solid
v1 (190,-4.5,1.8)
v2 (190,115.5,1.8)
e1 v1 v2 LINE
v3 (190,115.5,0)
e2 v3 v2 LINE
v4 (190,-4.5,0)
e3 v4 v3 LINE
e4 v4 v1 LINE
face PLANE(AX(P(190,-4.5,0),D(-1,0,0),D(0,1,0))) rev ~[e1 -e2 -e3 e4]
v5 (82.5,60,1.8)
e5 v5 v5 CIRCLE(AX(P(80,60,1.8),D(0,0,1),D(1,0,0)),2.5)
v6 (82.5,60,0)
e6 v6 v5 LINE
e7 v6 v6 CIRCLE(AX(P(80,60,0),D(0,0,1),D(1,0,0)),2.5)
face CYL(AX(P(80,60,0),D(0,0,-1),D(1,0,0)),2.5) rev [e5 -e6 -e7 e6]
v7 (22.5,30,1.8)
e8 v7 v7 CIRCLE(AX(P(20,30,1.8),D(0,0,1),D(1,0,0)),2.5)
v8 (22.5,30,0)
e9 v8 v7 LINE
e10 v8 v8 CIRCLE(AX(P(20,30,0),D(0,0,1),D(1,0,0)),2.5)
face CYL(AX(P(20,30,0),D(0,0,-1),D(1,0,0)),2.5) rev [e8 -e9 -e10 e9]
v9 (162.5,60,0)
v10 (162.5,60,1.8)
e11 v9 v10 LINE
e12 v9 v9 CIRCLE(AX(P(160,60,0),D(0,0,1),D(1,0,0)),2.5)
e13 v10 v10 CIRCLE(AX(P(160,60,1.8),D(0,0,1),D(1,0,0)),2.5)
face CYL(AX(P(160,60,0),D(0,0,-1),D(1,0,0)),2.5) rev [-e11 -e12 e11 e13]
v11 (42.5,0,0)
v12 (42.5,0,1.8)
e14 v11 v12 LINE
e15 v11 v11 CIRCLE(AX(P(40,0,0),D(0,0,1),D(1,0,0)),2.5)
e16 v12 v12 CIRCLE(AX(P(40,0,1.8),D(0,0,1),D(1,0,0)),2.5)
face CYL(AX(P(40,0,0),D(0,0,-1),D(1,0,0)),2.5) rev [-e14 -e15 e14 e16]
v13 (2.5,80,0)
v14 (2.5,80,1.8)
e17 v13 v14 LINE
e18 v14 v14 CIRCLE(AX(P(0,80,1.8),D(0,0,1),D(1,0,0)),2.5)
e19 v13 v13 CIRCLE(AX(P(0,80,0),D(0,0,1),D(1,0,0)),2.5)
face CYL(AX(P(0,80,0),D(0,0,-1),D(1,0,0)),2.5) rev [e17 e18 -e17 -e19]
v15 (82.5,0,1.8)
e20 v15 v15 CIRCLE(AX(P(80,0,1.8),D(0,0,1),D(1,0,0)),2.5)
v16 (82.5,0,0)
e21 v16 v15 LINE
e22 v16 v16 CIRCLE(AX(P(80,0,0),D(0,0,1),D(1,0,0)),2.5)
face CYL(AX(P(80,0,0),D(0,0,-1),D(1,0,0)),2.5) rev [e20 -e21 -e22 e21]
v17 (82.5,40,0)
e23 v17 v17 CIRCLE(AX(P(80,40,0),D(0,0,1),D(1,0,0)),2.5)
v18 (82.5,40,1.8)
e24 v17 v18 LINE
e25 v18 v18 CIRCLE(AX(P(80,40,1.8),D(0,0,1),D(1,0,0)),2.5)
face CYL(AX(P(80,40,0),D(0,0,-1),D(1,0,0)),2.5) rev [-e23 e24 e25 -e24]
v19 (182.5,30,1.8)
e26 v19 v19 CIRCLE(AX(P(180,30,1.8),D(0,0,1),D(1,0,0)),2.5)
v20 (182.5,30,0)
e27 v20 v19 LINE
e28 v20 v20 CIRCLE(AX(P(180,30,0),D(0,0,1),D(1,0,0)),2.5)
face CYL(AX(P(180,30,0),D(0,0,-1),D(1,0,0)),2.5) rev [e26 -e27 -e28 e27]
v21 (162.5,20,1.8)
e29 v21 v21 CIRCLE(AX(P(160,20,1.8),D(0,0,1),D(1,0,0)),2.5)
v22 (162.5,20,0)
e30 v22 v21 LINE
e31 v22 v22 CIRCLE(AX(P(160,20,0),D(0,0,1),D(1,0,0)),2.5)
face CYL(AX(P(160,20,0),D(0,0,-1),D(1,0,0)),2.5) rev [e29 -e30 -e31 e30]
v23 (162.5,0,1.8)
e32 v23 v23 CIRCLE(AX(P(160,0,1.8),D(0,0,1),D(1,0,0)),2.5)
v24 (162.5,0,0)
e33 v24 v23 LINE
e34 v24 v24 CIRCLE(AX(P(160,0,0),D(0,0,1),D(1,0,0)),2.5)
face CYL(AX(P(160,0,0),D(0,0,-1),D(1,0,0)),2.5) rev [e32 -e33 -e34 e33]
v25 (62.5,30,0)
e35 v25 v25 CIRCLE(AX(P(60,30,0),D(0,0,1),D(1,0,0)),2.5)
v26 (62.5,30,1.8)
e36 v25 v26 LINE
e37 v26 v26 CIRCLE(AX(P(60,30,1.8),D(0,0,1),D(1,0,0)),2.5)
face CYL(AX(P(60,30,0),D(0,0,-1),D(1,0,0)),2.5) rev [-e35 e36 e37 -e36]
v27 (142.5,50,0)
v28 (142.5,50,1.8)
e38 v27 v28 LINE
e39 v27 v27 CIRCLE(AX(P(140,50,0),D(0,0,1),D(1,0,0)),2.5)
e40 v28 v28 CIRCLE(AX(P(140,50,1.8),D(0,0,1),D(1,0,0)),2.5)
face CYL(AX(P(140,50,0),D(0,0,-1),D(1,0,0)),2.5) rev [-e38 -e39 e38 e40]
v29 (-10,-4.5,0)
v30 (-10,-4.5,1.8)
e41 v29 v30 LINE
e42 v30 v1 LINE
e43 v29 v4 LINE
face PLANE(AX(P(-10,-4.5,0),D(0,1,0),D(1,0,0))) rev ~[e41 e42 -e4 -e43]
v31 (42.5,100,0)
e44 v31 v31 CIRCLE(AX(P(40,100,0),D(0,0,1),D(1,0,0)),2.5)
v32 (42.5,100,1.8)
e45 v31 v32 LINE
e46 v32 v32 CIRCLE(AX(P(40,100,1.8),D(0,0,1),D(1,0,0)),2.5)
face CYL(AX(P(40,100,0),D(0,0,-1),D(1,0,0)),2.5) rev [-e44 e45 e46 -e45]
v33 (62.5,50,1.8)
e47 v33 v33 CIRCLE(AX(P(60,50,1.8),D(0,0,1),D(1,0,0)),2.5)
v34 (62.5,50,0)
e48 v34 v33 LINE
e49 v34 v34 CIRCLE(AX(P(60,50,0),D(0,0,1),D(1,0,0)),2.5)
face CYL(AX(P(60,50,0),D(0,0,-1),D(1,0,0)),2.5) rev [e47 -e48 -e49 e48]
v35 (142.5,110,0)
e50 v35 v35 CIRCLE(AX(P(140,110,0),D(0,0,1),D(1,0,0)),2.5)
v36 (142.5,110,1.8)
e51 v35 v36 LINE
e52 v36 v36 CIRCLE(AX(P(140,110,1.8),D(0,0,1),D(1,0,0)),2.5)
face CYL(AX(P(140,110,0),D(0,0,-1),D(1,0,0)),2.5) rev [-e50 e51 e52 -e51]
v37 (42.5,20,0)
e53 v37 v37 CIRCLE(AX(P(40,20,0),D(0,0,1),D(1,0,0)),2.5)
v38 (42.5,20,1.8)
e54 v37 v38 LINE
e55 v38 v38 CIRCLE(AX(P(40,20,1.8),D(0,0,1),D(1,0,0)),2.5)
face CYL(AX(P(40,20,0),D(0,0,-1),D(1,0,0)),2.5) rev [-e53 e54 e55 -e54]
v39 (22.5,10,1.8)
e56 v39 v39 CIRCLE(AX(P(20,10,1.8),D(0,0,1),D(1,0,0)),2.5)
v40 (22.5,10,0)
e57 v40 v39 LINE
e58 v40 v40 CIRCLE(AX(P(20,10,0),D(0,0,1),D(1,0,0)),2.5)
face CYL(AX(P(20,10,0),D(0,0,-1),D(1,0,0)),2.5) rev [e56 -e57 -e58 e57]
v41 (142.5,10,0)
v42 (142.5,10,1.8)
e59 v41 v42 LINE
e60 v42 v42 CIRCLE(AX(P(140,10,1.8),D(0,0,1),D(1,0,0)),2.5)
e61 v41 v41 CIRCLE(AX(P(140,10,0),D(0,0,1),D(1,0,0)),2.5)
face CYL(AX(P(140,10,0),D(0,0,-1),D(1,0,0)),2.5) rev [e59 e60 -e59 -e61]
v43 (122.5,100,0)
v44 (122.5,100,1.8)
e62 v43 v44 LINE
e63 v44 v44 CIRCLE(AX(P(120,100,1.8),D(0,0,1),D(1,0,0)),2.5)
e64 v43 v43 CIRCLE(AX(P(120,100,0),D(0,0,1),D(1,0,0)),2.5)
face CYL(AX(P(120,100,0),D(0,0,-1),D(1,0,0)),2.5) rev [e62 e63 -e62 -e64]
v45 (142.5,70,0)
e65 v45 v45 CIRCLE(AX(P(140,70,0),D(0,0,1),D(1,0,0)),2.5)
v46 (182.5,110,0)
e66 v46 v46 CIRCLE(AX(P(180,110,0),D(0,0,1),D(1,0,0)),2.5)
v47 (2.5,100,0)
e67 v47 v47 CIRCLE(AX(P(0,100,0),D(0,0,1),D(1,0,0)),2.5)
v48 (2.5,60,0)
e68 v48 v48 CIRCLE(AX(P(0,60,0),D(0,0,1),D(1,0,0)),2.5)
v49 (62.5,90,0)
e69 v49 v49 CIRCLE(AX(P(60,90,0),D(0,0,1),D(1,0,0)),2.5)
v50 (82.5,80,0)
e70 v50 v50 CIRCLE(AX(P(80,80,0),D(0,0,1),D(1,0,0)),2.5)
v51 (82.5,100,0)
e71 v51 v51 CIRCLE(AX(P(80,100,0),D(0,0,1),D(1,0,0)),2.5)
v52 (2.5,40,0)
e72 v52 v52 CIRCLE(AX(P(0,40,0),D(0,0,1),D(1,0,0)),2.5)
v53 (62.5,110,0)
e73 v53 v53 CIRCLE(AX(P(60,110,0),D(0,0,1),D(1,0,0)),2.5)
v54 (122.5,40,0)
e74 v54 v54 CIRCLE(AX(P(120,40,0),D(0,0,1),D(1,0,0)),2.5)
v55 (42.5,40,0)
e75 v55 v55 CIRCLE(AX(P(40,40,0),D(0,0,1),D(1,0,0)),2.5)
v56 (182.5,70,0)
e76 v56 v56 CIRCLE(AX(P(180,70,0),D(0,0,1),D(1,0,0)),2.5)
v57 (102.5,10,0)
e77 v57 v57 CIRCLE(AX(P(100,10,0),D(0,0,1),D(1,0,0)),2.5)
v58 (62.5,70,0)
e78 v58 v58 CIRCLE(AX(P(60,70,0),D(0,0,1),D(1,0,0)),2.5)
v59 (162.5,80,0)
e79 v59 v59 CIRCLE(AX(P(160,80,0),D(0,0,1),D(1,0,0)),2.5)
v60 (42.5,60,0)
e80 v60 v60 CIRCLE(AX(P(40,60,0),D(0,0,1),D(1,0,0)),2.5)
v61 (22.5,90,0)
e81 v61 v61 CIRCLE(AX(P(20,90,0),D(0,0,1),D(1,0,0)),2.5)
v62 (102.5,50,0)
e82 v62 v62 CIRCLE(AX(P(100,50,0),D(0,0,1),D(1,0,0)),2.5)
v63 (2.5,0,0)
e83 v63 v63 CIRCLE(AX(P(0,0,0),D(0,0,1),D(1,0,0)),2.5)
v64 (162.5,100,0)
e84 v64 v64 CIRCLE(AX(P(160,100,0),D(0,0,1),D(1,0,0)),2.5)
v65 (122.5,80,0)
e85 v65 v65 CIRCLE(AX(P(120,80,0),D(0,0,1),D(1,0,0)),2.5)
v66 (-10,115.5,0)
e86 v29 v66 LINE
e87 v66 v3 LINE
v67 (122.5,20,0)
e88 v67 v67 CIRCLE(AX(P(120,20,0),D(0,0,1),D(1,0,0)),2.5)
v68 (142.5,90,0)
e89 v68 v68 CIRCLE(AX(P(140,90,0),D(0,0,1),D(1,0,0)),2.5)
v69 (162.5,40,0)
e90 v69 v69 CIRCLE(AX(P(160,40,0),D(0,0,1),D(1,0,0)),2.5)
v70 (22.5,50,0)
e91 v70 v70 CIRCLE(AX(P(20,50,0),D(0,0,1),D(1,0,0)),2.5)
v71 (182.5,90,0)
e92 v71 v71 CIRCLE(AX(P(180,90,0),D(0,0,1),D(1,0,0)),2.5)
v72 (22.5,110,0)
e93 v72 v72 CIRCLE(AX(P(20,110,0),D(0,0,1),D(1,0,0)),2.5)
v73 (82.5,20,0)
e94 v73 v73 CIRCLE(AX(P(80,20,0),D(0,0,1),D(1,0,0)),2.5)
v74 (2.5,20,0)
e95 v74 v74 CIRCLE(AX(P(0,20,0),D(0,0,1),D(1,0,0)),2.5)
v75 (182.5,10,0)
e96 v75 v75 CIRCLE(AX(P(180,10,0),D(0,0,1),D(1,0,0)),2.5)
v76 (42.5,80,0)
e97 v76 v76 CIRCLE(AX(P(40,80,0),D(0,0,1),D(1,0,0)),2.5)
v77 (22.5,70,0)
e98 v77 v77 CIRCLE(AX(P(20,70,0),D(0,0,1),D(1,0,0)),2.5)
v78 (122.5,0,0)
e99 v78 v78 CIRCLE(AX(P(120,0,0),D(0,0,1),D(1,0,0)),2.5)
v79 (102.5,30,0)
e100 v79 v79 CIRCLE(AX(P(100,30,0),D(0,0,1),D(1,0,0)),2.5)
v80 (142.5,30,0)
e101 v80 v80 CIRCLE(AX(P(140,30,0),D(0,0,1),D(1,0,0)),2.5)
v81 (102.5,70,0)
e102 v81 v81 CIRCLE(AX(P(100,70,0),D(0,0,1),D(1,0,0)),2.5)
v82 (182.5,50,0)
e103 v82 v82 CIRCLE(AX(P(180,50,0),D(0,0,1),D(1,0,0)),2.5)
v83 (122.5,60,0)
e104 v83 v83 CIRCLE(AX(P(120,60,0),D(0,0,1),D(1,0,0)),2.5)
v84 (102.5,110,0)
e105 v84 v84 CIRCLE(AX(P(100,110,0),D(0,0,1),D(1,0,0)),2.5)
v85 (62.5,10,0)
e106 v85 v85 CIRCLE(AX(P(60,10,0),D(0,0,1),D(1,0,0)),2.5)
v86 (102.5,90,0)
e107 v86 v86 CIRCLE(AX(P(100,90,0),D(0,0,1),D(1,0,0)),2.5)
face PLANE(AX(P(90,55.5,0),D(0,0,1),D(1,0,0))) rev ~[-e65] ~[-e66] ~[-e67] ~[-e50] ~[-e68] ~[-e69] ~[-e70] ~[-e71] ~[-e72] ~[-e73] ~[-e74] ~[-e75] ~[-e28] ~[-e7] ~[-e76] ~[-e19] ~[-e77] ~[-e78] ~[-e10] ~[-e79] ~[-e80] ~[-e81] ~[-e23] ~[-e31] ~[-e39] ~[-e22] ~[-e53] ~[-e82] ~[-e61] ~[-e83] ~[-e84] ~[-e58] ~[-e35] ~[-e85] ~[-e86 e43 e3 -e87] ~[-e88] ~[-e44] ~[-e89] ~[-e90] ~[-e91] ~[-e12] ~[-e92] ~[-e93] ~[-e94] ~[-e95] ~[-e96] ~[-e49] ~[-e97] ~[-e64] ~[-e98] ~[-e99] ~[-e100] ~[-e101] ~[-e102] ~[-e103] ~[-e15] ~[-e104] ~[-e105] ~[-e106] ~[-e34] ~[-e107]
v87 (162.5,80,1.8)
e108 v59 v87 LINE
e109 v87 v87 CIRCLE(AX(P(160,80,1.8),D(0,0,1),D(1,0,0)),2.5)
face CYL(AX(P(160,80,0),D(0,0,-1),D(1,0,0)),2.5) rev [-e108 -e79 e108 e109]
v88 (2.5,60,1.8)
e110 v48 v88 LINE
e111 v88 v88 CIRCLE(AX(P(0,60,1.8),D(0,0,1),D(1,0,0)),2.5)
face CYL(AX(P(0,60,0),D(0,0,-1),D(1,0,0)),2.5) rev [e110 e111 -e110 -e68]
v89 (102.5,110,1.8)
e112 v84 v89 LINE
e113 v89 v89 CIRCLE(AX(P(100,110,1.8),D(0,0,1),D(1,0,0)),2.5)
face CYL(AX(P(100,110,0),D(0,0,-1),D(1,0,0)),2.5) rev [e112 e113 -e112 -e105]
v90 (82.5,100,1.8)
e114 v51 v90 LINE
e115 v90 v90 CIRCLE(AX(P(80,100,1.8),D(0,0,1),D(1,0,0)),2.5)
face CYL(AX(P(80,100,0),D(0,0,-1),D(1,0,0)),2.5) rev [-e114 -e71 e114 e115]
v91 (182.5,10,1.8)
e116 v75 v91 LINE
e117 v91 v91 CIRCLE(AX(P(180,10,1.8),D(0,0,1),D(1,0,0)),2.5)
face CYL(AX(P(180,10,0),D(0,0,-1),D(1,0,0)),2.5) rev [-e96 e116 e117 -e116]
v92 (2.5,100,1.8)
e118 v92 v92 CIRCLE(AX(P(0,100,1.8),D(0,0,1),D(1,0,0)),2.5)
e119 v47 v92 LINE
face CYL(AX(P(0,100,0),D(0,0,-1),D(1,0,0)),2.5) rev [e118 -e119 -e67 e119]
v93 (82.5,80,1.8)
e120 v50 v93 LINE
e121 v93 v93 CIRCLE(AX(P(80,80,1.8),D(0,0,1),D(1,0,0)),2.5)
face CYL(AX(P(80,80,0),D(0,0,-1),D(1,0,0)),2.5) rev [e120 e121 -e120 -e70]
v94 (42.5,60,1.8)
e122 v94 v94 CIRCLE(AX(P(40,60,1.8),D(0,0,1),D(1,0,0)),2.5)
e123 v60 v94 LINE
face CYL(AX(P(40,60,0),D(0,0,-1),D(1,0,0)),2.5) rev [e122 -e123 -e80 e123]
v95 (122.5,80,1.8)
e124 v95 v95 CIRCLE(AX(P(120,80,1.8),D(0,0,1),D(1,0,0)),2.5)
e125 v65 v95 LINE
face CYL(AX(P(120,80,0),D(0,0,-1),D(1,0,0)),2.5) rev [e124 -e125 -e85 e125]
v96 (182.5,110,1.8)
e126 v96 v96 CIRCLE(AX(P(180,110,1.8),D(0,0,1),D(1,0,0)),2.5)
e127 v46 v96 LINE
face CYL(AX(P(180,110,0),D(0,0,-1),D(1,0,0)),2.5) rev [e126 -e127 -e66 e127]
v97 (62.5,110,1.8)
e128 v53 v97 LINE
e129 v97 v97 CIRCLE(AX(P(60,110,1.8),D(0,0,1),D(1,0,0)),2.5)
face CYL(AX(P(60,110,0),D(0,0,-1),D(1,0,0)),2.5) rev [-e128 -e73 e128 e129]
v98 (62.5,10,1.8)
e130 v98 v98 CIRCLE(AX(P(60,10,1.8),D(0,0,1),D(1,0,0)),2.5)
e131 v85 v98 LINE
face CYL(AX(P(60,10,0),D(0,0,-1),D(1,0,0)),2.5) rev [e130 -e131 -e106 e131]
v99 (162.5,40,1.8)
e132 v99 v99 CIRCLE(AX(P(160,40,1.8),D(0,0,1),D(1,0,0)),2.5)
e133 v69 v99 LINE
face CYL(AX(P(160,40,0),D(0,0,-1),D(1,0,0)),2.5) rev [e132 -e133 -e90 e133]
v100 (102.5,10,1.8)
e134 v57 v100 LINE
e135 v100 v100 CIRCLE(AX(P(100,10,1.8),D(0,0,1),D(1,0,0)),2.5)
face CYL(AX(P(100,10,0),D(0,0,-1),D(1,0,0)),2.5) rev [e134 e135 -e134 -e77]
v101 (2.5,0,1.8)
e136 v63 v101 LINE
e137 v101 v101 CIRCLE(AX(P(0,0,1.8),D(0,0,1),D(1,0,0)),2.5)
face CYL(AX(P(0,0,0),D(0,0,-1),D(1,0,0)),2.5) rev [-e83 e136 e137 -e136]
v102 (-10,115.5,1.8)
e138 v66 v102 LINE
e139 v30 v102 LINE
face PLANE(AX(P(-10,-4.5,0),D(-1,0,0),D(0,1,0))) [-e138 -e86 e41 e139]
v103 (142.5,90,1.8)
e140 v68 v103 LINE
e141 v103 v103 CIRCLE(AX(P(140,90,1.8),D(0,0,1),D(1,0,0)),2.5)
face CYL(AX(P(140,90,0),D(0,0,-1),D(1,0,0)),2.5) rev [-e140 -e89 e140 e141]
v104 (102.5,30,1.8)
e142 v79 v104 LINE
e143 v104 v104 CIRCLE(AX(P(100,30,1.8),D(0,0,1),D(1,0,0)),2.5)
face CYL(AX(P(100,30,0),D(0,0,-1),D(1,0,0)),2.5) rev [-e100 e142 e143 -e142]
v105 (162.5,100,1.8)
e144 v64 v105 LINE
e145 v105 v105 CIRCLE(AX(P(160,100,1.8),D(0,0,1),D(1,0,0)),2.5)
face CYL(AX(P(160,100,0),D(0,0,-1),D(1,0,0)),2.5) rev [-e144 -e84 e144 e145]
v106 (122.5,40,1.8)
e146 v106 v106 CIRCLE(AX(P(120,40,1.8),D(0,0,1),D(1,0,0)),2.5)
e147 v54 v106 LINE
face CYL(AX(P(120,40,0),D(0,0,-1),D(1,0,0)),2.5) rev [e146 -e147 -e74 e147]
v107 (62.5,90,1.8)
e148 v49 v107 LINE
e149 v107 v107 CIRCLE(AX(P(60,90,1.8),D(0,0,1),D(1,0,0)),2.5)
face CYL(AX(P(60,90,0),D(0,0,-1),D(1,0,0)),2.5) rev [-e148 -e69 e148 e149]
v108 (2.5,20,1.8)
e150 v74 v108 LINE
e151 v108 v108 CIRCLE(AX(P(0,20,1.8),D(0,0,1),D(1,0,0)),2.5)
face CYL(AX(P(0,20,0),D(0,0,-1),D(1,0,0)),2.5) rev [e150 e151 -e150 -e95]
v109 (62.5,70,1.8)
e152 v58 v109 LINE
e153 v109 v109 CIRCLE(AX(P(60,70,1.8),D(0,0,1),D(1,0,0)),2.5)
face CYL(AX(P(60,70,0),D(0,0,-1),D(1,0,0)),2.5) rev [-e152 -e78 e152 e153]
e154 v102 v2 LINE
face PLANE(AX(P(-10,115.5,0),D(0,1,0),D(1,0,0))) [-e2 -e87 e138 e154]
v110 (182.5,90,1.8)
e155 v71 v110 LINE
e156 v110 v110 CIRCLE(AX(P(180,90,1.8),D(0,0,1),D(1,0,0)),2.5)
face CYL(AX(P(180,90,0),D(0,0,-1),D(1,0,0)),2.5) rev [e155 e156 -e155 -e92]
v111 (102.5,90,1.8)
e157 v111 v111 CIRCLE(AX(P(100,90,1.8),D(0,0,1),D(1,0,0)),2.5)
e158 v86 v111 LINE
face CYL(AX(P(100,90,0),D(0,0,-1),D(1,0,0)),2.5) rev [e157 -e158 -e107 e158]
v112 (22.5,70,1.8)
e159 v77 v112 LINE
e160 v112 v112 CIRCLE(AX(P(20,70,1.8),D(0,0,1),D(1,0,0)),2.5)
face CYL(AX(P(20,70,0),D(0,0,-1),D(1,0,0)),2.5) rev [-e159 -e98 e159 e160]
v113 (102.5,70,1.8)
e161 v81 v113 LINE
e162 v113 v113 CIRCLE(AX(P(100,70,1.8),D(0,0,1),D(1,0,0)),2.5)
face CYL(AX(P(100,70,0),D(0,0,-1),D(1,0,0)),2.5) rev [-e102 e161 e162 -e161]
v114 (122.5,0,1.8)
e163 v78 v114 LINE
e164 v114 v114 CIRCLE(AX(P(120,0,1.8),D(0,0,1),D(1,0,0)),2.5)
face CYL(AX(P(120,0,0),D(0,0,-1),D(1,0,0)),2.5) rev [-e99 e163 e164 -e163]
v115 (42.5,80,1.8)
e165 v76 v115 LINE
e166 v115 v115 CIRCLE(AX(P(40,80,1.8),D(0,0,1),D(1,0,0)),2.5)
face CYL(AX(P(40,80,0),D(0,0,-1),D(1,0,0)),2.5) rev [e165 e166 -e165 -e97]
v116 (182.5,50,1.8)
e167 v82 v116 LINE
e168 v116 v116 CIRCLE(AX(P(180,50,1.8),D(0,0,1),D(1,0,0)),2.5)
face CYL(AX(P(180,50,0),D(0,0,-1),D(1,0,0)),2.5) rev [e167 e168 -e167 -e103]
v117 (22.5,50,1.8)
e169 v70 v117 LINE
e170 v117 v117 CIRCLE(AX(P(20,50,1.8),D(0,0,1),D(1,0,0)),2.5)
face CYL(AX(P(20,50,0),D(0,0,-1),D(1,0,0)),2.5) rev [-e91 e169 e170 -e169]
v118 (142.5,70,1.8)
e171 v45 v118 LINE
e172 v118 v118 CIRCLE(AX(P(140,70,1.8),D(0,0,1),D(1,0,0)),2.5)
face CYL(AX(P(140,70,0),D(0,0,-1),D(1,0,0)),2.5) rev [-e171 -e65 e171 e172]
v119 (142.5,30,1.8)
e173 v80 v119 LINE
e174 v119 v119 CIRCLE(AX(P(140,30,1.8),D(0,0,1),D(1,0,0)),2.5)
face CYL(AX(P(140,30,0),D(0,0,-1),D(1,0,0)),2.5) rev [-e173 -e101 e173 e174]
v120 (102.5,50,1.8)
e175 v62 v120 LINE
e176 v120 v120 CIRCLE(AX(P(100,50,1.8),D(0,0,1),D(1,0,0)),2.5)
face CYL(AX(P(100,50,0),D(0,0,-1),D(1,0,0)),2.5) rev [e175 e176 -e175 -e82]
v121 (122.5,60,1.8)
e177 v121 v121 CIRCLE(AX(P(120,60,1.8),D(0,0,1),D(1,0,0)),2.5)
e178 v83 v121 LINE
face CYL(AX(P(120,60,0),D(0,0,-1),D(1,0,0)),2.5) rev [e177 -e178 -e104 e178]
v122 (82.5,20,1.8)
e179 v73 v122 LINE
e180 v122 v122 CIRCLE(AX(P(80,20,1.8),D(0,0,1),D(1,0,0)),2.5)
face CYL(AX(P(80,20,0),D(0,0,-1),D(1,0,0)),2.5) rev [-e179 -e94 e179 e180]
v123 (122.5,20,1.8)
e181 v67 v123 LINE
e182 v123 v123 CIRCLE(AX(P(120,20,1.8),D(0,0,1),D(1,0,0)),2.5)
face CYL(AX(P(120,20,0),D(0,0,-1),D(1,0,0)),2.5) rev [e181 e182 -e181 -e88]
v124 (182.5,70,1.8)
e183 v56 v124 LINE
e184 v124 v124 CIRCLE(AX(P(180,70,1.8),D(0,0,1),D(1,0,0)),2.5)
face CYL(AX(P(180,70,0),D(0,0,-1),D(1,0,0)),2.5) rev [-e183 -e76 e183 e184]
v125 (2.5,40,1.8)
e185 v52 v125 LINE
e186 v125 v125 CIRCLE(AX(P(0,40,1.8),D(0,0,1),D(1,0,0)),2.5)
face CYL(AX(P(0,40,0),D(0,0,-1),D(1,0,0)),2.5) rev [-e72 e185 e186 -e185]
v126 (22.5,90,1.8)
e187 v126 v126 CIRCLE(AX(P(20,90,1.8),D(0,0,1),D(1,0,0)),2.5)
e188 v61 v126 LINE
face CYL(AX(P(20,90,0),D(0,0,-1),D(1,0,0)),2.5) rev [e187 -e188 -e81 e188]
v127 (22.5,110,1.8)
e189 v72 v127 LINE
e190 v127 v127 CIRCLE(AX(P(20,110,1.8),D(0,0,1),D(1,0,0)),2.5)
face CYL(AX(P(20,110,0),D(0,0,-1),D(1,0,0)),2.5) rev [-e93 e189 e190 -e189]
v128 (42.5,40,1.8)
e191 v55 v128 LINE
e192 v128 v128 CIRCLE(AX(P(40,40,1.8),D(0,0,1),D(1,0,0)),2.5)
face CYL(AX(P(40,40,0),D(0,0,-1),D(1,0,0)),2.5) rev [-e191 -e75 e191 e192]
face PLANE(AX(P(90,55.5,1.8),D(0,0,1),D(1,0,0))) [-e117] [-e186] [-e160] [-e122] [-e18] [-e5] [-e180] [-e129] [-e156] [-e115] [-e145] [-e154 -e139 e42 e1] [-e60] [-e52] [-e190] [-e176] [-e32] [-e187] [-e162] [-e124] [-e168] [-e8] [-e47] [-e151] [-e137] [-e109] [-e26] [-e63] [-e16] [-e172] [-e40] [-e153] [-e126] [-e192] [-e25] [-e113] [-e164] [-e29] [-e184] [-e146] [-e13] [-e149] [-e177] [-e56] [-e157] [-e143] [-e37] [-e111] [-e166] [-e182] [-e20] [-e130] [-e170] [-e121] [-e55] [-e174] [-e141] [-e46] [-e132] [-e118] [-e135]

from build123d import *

# Parameters (mm, degrees)
SKETCH_W  = 200
SKETCH_H  = 120
SKETCH_R  = 2.5
PAD_DEPTH = 1.8


with BuildPart() as part:
    # Sketch → Pad (new body)
    with BuildSketch(Plane.XY):
        with Locations((90, 55.5)):
            Rectangle(SKETCH_W, SKETCH_H)
        Circle(SKETCH_R, mode=Mode.SUBTRACT)
        with Locations((0, 20)):
            Circle(SKETCH_R, mode=Mode.SUBTRACT)
        with Locations((0, 40)):
            Circle(SKETCH_R, mode=Mode.SUBTRACT)
        with Locations((0, 60)):
            Circle(SKETCH_R, mode=Mode.SUBTRACT)
        with Locations((20, 10)):
            Circle(SKETCH_R, mode=Mode.SUBTRACT)
        with Locations((20, 30)):
            Circle(SKETCH_R, mode=Mode.SUBTRACT)
        with Locations((20, 50)):
            Circle(SKETCH_R, mode=Mode.SUBTRACT)
        with Locations((20, 70)):
            Circle(SKETCH_R, mode=Mode.SUBTRACT)
        with Locations((40, 0)):
            Circle(SKETCH_R, mode=Mode.SUBTRACT)
        with Locations((40, 20)):
            Circle(SKETCH_R, mode=Mode.SUBTRACT)
        with Locations((40, 40)):
            Circle(SKETCH_R, mode=Mode.SUBTRACT)
        with Locations((40, 60)):
            Circle(SKETCH_R, mode=Mode.SUBTRACT)
        with Locations((60, 10)):
            Circle(SKETCH_R, mode=Mode.SUBTRACT)
        with Locations((60, 30)):
            Circle(SKETCH_R, mode=Mode.SUBTRACT)
        with Locations((60, 50)):
            Circle(SKETCH_R, mode=Mode.SUBTRACT)
        with Locations((60, 70)):
            Circle(SKETCH_R, mode=Mode.SUBTRACT)
        with Locations((80, 0)):
            Circle(SKETCH_R, mode=Mode.SUBTRACT)
        with Locations((80, 20)):
            Circle(SKETCH_R, mode=Mode.SUBTRACT)
        with Locations((80, 40)):
            Circle(SKETCH_R, mode=Mode.SUBTRACT)
        with Locations((80, 60)):
            Circle(SKETCH_R, mode=Mode.SUBTRACT)
        with Locations((100, 10)):
            Circle(SKETCH_R, mode=Mode.SUBTRACT)
        with Locations((100, 30)):
            Circle(SKETCH_R, mode=Mode.SUBTRACT)
        with Locations((100, 50)):
            Circle(SKETCH_R, mode=Mode.SUBTRACT)
        with Locations((100, 70)):
            Circle(SKETCH_R, mode=Mode.SUBTRACT)
        with Locations((120, 0)):
            Circle(SKETCH_R, mode=Mode.SUBTRACT)
        with Locations((120, 20)):
            Circle(SKETCH_R, mode=Mode.SUBTRACT)
        with Locations((120, 40)):
            Circle(SKETCH_R, mode=Mode.SUBTRACT)
        with Locations((120, 60)):
            Circle(SKETCH_R, mode=Mode.SUBTRACT)
        with Locations((140, 10)):
            Circle(SKETCH_R, mode=Mode.SUBTRACT)
        with Locations((140, 30)):
            Circle(SKETCH_R, mode=Mode.SUBTRACT)
        with Locations((140, 50)):
            Circle(SKETCH_R, mode=Mode.SUBTRACT)
        with Locations((140, 70)):
            Circle(SKETCH_R, mode=Mode.SUBTRACT)
        with Locations((160, 0)):
            Circle(SKETCH_R, mode=Mode.SUBTRACT)
        with Locations((160, 20)):
            Circle(SKETCH_R, mode=Mode.SUBTRACT)
        with Locations((160, 40)):
            Circle(SKETCH_R, mode=Mode.SUBTRACT)
        with Locations((160, 60)):
            Circle(SKETCH_R, mode=Mode.SUBTRACT)
        with Locations((180, 10)):
            Circle(SKETCH_R, mode=Mode.SUBTRACT)
        with Locations((180, 30)):
            Circle(SKETCH_R, mode=Mode.SUBTRACT)
        with Locations((180, 50)):
            Circle(SKETCH_R, mode=Mode.SUBTRACT)
        with Locations((180, 70)):
            Circle(SKETCH_R, mode=Mode.SUBTRACT)
        with Locations((0, 80)):
            Circle(SKETCH_R, mode=Mode.SUBTRACT)
        with Locations((20, 90)):
            Circle(SKETCH_R, mode=Mode.SUBTRACT)
        with Locations((40, 80)):
            Circle(SKETCH_R, mode=Mode.SUBTRACT)
        with Locations((60, 90)):
            Circle(SKETCH_R, mode=Mode.SUBTRACT)
        with Locations((80, 80)):
            Circle(SKETCH_R, mode=Mode.SUBTRACT)
        with Locations((100, 90)):
            Circle(SKETCH_R, mode=Mode.SUBTRACT)
        with Locations((120, 80)):
            Circle(SKETCH_R, mode=Mode.SUBTRACT)
        with Locations((140, 90)):
            Circle(SKETCH_R, mode=Mode.SUBTRACT)
        with Locations((160, 80)):
            Circle(SKETCH_R, mode=Mode.SUBTRACT)
        with Locations((180, 90)):
            Circle(SKETCH_R, mode=Mode.SUBTRACT)
        with Locations((0, 100)):
            Circle(SKETCH_R, mode=Mode.SUBTRACT)
        with Locations((40, 100)):
            Circle(SKETCH_R, mode=Mode.SUBTRACT)
        with Locations((80, 100)):
            Circle(SKETCH_R, mode=Mode.SUBTRACT)
        with Locations((120, 100)):
            Circle(SKETCH_R, mode=Mode.SUBTRACT)
        with Locations((160, 100)):
            Circle(SKETCH_R, mode=Mode.SUBTRACT)
        with Locations((20, 110)):
            Circle(SKETCH_R, mode=Mode.SUBTRACT)
        with Locations((60, 110)):
            Circle(SKETCH_R, mode=Mode.SUBTRACT)
        with Locations((100, 110)):
            Circle(SKETCH_R, mode=Mode.SUBTRACT)
        with Locations((140, 110)):
            Circle(SKETCH_R, mode=Mode.SUBTRACT)
        with Locations((180, 110)):
            Circle(SKETCH_R, mode=Mode.SUBTRACT)
    extrude(amount=PAD_DEPTH)


solid = part.part
